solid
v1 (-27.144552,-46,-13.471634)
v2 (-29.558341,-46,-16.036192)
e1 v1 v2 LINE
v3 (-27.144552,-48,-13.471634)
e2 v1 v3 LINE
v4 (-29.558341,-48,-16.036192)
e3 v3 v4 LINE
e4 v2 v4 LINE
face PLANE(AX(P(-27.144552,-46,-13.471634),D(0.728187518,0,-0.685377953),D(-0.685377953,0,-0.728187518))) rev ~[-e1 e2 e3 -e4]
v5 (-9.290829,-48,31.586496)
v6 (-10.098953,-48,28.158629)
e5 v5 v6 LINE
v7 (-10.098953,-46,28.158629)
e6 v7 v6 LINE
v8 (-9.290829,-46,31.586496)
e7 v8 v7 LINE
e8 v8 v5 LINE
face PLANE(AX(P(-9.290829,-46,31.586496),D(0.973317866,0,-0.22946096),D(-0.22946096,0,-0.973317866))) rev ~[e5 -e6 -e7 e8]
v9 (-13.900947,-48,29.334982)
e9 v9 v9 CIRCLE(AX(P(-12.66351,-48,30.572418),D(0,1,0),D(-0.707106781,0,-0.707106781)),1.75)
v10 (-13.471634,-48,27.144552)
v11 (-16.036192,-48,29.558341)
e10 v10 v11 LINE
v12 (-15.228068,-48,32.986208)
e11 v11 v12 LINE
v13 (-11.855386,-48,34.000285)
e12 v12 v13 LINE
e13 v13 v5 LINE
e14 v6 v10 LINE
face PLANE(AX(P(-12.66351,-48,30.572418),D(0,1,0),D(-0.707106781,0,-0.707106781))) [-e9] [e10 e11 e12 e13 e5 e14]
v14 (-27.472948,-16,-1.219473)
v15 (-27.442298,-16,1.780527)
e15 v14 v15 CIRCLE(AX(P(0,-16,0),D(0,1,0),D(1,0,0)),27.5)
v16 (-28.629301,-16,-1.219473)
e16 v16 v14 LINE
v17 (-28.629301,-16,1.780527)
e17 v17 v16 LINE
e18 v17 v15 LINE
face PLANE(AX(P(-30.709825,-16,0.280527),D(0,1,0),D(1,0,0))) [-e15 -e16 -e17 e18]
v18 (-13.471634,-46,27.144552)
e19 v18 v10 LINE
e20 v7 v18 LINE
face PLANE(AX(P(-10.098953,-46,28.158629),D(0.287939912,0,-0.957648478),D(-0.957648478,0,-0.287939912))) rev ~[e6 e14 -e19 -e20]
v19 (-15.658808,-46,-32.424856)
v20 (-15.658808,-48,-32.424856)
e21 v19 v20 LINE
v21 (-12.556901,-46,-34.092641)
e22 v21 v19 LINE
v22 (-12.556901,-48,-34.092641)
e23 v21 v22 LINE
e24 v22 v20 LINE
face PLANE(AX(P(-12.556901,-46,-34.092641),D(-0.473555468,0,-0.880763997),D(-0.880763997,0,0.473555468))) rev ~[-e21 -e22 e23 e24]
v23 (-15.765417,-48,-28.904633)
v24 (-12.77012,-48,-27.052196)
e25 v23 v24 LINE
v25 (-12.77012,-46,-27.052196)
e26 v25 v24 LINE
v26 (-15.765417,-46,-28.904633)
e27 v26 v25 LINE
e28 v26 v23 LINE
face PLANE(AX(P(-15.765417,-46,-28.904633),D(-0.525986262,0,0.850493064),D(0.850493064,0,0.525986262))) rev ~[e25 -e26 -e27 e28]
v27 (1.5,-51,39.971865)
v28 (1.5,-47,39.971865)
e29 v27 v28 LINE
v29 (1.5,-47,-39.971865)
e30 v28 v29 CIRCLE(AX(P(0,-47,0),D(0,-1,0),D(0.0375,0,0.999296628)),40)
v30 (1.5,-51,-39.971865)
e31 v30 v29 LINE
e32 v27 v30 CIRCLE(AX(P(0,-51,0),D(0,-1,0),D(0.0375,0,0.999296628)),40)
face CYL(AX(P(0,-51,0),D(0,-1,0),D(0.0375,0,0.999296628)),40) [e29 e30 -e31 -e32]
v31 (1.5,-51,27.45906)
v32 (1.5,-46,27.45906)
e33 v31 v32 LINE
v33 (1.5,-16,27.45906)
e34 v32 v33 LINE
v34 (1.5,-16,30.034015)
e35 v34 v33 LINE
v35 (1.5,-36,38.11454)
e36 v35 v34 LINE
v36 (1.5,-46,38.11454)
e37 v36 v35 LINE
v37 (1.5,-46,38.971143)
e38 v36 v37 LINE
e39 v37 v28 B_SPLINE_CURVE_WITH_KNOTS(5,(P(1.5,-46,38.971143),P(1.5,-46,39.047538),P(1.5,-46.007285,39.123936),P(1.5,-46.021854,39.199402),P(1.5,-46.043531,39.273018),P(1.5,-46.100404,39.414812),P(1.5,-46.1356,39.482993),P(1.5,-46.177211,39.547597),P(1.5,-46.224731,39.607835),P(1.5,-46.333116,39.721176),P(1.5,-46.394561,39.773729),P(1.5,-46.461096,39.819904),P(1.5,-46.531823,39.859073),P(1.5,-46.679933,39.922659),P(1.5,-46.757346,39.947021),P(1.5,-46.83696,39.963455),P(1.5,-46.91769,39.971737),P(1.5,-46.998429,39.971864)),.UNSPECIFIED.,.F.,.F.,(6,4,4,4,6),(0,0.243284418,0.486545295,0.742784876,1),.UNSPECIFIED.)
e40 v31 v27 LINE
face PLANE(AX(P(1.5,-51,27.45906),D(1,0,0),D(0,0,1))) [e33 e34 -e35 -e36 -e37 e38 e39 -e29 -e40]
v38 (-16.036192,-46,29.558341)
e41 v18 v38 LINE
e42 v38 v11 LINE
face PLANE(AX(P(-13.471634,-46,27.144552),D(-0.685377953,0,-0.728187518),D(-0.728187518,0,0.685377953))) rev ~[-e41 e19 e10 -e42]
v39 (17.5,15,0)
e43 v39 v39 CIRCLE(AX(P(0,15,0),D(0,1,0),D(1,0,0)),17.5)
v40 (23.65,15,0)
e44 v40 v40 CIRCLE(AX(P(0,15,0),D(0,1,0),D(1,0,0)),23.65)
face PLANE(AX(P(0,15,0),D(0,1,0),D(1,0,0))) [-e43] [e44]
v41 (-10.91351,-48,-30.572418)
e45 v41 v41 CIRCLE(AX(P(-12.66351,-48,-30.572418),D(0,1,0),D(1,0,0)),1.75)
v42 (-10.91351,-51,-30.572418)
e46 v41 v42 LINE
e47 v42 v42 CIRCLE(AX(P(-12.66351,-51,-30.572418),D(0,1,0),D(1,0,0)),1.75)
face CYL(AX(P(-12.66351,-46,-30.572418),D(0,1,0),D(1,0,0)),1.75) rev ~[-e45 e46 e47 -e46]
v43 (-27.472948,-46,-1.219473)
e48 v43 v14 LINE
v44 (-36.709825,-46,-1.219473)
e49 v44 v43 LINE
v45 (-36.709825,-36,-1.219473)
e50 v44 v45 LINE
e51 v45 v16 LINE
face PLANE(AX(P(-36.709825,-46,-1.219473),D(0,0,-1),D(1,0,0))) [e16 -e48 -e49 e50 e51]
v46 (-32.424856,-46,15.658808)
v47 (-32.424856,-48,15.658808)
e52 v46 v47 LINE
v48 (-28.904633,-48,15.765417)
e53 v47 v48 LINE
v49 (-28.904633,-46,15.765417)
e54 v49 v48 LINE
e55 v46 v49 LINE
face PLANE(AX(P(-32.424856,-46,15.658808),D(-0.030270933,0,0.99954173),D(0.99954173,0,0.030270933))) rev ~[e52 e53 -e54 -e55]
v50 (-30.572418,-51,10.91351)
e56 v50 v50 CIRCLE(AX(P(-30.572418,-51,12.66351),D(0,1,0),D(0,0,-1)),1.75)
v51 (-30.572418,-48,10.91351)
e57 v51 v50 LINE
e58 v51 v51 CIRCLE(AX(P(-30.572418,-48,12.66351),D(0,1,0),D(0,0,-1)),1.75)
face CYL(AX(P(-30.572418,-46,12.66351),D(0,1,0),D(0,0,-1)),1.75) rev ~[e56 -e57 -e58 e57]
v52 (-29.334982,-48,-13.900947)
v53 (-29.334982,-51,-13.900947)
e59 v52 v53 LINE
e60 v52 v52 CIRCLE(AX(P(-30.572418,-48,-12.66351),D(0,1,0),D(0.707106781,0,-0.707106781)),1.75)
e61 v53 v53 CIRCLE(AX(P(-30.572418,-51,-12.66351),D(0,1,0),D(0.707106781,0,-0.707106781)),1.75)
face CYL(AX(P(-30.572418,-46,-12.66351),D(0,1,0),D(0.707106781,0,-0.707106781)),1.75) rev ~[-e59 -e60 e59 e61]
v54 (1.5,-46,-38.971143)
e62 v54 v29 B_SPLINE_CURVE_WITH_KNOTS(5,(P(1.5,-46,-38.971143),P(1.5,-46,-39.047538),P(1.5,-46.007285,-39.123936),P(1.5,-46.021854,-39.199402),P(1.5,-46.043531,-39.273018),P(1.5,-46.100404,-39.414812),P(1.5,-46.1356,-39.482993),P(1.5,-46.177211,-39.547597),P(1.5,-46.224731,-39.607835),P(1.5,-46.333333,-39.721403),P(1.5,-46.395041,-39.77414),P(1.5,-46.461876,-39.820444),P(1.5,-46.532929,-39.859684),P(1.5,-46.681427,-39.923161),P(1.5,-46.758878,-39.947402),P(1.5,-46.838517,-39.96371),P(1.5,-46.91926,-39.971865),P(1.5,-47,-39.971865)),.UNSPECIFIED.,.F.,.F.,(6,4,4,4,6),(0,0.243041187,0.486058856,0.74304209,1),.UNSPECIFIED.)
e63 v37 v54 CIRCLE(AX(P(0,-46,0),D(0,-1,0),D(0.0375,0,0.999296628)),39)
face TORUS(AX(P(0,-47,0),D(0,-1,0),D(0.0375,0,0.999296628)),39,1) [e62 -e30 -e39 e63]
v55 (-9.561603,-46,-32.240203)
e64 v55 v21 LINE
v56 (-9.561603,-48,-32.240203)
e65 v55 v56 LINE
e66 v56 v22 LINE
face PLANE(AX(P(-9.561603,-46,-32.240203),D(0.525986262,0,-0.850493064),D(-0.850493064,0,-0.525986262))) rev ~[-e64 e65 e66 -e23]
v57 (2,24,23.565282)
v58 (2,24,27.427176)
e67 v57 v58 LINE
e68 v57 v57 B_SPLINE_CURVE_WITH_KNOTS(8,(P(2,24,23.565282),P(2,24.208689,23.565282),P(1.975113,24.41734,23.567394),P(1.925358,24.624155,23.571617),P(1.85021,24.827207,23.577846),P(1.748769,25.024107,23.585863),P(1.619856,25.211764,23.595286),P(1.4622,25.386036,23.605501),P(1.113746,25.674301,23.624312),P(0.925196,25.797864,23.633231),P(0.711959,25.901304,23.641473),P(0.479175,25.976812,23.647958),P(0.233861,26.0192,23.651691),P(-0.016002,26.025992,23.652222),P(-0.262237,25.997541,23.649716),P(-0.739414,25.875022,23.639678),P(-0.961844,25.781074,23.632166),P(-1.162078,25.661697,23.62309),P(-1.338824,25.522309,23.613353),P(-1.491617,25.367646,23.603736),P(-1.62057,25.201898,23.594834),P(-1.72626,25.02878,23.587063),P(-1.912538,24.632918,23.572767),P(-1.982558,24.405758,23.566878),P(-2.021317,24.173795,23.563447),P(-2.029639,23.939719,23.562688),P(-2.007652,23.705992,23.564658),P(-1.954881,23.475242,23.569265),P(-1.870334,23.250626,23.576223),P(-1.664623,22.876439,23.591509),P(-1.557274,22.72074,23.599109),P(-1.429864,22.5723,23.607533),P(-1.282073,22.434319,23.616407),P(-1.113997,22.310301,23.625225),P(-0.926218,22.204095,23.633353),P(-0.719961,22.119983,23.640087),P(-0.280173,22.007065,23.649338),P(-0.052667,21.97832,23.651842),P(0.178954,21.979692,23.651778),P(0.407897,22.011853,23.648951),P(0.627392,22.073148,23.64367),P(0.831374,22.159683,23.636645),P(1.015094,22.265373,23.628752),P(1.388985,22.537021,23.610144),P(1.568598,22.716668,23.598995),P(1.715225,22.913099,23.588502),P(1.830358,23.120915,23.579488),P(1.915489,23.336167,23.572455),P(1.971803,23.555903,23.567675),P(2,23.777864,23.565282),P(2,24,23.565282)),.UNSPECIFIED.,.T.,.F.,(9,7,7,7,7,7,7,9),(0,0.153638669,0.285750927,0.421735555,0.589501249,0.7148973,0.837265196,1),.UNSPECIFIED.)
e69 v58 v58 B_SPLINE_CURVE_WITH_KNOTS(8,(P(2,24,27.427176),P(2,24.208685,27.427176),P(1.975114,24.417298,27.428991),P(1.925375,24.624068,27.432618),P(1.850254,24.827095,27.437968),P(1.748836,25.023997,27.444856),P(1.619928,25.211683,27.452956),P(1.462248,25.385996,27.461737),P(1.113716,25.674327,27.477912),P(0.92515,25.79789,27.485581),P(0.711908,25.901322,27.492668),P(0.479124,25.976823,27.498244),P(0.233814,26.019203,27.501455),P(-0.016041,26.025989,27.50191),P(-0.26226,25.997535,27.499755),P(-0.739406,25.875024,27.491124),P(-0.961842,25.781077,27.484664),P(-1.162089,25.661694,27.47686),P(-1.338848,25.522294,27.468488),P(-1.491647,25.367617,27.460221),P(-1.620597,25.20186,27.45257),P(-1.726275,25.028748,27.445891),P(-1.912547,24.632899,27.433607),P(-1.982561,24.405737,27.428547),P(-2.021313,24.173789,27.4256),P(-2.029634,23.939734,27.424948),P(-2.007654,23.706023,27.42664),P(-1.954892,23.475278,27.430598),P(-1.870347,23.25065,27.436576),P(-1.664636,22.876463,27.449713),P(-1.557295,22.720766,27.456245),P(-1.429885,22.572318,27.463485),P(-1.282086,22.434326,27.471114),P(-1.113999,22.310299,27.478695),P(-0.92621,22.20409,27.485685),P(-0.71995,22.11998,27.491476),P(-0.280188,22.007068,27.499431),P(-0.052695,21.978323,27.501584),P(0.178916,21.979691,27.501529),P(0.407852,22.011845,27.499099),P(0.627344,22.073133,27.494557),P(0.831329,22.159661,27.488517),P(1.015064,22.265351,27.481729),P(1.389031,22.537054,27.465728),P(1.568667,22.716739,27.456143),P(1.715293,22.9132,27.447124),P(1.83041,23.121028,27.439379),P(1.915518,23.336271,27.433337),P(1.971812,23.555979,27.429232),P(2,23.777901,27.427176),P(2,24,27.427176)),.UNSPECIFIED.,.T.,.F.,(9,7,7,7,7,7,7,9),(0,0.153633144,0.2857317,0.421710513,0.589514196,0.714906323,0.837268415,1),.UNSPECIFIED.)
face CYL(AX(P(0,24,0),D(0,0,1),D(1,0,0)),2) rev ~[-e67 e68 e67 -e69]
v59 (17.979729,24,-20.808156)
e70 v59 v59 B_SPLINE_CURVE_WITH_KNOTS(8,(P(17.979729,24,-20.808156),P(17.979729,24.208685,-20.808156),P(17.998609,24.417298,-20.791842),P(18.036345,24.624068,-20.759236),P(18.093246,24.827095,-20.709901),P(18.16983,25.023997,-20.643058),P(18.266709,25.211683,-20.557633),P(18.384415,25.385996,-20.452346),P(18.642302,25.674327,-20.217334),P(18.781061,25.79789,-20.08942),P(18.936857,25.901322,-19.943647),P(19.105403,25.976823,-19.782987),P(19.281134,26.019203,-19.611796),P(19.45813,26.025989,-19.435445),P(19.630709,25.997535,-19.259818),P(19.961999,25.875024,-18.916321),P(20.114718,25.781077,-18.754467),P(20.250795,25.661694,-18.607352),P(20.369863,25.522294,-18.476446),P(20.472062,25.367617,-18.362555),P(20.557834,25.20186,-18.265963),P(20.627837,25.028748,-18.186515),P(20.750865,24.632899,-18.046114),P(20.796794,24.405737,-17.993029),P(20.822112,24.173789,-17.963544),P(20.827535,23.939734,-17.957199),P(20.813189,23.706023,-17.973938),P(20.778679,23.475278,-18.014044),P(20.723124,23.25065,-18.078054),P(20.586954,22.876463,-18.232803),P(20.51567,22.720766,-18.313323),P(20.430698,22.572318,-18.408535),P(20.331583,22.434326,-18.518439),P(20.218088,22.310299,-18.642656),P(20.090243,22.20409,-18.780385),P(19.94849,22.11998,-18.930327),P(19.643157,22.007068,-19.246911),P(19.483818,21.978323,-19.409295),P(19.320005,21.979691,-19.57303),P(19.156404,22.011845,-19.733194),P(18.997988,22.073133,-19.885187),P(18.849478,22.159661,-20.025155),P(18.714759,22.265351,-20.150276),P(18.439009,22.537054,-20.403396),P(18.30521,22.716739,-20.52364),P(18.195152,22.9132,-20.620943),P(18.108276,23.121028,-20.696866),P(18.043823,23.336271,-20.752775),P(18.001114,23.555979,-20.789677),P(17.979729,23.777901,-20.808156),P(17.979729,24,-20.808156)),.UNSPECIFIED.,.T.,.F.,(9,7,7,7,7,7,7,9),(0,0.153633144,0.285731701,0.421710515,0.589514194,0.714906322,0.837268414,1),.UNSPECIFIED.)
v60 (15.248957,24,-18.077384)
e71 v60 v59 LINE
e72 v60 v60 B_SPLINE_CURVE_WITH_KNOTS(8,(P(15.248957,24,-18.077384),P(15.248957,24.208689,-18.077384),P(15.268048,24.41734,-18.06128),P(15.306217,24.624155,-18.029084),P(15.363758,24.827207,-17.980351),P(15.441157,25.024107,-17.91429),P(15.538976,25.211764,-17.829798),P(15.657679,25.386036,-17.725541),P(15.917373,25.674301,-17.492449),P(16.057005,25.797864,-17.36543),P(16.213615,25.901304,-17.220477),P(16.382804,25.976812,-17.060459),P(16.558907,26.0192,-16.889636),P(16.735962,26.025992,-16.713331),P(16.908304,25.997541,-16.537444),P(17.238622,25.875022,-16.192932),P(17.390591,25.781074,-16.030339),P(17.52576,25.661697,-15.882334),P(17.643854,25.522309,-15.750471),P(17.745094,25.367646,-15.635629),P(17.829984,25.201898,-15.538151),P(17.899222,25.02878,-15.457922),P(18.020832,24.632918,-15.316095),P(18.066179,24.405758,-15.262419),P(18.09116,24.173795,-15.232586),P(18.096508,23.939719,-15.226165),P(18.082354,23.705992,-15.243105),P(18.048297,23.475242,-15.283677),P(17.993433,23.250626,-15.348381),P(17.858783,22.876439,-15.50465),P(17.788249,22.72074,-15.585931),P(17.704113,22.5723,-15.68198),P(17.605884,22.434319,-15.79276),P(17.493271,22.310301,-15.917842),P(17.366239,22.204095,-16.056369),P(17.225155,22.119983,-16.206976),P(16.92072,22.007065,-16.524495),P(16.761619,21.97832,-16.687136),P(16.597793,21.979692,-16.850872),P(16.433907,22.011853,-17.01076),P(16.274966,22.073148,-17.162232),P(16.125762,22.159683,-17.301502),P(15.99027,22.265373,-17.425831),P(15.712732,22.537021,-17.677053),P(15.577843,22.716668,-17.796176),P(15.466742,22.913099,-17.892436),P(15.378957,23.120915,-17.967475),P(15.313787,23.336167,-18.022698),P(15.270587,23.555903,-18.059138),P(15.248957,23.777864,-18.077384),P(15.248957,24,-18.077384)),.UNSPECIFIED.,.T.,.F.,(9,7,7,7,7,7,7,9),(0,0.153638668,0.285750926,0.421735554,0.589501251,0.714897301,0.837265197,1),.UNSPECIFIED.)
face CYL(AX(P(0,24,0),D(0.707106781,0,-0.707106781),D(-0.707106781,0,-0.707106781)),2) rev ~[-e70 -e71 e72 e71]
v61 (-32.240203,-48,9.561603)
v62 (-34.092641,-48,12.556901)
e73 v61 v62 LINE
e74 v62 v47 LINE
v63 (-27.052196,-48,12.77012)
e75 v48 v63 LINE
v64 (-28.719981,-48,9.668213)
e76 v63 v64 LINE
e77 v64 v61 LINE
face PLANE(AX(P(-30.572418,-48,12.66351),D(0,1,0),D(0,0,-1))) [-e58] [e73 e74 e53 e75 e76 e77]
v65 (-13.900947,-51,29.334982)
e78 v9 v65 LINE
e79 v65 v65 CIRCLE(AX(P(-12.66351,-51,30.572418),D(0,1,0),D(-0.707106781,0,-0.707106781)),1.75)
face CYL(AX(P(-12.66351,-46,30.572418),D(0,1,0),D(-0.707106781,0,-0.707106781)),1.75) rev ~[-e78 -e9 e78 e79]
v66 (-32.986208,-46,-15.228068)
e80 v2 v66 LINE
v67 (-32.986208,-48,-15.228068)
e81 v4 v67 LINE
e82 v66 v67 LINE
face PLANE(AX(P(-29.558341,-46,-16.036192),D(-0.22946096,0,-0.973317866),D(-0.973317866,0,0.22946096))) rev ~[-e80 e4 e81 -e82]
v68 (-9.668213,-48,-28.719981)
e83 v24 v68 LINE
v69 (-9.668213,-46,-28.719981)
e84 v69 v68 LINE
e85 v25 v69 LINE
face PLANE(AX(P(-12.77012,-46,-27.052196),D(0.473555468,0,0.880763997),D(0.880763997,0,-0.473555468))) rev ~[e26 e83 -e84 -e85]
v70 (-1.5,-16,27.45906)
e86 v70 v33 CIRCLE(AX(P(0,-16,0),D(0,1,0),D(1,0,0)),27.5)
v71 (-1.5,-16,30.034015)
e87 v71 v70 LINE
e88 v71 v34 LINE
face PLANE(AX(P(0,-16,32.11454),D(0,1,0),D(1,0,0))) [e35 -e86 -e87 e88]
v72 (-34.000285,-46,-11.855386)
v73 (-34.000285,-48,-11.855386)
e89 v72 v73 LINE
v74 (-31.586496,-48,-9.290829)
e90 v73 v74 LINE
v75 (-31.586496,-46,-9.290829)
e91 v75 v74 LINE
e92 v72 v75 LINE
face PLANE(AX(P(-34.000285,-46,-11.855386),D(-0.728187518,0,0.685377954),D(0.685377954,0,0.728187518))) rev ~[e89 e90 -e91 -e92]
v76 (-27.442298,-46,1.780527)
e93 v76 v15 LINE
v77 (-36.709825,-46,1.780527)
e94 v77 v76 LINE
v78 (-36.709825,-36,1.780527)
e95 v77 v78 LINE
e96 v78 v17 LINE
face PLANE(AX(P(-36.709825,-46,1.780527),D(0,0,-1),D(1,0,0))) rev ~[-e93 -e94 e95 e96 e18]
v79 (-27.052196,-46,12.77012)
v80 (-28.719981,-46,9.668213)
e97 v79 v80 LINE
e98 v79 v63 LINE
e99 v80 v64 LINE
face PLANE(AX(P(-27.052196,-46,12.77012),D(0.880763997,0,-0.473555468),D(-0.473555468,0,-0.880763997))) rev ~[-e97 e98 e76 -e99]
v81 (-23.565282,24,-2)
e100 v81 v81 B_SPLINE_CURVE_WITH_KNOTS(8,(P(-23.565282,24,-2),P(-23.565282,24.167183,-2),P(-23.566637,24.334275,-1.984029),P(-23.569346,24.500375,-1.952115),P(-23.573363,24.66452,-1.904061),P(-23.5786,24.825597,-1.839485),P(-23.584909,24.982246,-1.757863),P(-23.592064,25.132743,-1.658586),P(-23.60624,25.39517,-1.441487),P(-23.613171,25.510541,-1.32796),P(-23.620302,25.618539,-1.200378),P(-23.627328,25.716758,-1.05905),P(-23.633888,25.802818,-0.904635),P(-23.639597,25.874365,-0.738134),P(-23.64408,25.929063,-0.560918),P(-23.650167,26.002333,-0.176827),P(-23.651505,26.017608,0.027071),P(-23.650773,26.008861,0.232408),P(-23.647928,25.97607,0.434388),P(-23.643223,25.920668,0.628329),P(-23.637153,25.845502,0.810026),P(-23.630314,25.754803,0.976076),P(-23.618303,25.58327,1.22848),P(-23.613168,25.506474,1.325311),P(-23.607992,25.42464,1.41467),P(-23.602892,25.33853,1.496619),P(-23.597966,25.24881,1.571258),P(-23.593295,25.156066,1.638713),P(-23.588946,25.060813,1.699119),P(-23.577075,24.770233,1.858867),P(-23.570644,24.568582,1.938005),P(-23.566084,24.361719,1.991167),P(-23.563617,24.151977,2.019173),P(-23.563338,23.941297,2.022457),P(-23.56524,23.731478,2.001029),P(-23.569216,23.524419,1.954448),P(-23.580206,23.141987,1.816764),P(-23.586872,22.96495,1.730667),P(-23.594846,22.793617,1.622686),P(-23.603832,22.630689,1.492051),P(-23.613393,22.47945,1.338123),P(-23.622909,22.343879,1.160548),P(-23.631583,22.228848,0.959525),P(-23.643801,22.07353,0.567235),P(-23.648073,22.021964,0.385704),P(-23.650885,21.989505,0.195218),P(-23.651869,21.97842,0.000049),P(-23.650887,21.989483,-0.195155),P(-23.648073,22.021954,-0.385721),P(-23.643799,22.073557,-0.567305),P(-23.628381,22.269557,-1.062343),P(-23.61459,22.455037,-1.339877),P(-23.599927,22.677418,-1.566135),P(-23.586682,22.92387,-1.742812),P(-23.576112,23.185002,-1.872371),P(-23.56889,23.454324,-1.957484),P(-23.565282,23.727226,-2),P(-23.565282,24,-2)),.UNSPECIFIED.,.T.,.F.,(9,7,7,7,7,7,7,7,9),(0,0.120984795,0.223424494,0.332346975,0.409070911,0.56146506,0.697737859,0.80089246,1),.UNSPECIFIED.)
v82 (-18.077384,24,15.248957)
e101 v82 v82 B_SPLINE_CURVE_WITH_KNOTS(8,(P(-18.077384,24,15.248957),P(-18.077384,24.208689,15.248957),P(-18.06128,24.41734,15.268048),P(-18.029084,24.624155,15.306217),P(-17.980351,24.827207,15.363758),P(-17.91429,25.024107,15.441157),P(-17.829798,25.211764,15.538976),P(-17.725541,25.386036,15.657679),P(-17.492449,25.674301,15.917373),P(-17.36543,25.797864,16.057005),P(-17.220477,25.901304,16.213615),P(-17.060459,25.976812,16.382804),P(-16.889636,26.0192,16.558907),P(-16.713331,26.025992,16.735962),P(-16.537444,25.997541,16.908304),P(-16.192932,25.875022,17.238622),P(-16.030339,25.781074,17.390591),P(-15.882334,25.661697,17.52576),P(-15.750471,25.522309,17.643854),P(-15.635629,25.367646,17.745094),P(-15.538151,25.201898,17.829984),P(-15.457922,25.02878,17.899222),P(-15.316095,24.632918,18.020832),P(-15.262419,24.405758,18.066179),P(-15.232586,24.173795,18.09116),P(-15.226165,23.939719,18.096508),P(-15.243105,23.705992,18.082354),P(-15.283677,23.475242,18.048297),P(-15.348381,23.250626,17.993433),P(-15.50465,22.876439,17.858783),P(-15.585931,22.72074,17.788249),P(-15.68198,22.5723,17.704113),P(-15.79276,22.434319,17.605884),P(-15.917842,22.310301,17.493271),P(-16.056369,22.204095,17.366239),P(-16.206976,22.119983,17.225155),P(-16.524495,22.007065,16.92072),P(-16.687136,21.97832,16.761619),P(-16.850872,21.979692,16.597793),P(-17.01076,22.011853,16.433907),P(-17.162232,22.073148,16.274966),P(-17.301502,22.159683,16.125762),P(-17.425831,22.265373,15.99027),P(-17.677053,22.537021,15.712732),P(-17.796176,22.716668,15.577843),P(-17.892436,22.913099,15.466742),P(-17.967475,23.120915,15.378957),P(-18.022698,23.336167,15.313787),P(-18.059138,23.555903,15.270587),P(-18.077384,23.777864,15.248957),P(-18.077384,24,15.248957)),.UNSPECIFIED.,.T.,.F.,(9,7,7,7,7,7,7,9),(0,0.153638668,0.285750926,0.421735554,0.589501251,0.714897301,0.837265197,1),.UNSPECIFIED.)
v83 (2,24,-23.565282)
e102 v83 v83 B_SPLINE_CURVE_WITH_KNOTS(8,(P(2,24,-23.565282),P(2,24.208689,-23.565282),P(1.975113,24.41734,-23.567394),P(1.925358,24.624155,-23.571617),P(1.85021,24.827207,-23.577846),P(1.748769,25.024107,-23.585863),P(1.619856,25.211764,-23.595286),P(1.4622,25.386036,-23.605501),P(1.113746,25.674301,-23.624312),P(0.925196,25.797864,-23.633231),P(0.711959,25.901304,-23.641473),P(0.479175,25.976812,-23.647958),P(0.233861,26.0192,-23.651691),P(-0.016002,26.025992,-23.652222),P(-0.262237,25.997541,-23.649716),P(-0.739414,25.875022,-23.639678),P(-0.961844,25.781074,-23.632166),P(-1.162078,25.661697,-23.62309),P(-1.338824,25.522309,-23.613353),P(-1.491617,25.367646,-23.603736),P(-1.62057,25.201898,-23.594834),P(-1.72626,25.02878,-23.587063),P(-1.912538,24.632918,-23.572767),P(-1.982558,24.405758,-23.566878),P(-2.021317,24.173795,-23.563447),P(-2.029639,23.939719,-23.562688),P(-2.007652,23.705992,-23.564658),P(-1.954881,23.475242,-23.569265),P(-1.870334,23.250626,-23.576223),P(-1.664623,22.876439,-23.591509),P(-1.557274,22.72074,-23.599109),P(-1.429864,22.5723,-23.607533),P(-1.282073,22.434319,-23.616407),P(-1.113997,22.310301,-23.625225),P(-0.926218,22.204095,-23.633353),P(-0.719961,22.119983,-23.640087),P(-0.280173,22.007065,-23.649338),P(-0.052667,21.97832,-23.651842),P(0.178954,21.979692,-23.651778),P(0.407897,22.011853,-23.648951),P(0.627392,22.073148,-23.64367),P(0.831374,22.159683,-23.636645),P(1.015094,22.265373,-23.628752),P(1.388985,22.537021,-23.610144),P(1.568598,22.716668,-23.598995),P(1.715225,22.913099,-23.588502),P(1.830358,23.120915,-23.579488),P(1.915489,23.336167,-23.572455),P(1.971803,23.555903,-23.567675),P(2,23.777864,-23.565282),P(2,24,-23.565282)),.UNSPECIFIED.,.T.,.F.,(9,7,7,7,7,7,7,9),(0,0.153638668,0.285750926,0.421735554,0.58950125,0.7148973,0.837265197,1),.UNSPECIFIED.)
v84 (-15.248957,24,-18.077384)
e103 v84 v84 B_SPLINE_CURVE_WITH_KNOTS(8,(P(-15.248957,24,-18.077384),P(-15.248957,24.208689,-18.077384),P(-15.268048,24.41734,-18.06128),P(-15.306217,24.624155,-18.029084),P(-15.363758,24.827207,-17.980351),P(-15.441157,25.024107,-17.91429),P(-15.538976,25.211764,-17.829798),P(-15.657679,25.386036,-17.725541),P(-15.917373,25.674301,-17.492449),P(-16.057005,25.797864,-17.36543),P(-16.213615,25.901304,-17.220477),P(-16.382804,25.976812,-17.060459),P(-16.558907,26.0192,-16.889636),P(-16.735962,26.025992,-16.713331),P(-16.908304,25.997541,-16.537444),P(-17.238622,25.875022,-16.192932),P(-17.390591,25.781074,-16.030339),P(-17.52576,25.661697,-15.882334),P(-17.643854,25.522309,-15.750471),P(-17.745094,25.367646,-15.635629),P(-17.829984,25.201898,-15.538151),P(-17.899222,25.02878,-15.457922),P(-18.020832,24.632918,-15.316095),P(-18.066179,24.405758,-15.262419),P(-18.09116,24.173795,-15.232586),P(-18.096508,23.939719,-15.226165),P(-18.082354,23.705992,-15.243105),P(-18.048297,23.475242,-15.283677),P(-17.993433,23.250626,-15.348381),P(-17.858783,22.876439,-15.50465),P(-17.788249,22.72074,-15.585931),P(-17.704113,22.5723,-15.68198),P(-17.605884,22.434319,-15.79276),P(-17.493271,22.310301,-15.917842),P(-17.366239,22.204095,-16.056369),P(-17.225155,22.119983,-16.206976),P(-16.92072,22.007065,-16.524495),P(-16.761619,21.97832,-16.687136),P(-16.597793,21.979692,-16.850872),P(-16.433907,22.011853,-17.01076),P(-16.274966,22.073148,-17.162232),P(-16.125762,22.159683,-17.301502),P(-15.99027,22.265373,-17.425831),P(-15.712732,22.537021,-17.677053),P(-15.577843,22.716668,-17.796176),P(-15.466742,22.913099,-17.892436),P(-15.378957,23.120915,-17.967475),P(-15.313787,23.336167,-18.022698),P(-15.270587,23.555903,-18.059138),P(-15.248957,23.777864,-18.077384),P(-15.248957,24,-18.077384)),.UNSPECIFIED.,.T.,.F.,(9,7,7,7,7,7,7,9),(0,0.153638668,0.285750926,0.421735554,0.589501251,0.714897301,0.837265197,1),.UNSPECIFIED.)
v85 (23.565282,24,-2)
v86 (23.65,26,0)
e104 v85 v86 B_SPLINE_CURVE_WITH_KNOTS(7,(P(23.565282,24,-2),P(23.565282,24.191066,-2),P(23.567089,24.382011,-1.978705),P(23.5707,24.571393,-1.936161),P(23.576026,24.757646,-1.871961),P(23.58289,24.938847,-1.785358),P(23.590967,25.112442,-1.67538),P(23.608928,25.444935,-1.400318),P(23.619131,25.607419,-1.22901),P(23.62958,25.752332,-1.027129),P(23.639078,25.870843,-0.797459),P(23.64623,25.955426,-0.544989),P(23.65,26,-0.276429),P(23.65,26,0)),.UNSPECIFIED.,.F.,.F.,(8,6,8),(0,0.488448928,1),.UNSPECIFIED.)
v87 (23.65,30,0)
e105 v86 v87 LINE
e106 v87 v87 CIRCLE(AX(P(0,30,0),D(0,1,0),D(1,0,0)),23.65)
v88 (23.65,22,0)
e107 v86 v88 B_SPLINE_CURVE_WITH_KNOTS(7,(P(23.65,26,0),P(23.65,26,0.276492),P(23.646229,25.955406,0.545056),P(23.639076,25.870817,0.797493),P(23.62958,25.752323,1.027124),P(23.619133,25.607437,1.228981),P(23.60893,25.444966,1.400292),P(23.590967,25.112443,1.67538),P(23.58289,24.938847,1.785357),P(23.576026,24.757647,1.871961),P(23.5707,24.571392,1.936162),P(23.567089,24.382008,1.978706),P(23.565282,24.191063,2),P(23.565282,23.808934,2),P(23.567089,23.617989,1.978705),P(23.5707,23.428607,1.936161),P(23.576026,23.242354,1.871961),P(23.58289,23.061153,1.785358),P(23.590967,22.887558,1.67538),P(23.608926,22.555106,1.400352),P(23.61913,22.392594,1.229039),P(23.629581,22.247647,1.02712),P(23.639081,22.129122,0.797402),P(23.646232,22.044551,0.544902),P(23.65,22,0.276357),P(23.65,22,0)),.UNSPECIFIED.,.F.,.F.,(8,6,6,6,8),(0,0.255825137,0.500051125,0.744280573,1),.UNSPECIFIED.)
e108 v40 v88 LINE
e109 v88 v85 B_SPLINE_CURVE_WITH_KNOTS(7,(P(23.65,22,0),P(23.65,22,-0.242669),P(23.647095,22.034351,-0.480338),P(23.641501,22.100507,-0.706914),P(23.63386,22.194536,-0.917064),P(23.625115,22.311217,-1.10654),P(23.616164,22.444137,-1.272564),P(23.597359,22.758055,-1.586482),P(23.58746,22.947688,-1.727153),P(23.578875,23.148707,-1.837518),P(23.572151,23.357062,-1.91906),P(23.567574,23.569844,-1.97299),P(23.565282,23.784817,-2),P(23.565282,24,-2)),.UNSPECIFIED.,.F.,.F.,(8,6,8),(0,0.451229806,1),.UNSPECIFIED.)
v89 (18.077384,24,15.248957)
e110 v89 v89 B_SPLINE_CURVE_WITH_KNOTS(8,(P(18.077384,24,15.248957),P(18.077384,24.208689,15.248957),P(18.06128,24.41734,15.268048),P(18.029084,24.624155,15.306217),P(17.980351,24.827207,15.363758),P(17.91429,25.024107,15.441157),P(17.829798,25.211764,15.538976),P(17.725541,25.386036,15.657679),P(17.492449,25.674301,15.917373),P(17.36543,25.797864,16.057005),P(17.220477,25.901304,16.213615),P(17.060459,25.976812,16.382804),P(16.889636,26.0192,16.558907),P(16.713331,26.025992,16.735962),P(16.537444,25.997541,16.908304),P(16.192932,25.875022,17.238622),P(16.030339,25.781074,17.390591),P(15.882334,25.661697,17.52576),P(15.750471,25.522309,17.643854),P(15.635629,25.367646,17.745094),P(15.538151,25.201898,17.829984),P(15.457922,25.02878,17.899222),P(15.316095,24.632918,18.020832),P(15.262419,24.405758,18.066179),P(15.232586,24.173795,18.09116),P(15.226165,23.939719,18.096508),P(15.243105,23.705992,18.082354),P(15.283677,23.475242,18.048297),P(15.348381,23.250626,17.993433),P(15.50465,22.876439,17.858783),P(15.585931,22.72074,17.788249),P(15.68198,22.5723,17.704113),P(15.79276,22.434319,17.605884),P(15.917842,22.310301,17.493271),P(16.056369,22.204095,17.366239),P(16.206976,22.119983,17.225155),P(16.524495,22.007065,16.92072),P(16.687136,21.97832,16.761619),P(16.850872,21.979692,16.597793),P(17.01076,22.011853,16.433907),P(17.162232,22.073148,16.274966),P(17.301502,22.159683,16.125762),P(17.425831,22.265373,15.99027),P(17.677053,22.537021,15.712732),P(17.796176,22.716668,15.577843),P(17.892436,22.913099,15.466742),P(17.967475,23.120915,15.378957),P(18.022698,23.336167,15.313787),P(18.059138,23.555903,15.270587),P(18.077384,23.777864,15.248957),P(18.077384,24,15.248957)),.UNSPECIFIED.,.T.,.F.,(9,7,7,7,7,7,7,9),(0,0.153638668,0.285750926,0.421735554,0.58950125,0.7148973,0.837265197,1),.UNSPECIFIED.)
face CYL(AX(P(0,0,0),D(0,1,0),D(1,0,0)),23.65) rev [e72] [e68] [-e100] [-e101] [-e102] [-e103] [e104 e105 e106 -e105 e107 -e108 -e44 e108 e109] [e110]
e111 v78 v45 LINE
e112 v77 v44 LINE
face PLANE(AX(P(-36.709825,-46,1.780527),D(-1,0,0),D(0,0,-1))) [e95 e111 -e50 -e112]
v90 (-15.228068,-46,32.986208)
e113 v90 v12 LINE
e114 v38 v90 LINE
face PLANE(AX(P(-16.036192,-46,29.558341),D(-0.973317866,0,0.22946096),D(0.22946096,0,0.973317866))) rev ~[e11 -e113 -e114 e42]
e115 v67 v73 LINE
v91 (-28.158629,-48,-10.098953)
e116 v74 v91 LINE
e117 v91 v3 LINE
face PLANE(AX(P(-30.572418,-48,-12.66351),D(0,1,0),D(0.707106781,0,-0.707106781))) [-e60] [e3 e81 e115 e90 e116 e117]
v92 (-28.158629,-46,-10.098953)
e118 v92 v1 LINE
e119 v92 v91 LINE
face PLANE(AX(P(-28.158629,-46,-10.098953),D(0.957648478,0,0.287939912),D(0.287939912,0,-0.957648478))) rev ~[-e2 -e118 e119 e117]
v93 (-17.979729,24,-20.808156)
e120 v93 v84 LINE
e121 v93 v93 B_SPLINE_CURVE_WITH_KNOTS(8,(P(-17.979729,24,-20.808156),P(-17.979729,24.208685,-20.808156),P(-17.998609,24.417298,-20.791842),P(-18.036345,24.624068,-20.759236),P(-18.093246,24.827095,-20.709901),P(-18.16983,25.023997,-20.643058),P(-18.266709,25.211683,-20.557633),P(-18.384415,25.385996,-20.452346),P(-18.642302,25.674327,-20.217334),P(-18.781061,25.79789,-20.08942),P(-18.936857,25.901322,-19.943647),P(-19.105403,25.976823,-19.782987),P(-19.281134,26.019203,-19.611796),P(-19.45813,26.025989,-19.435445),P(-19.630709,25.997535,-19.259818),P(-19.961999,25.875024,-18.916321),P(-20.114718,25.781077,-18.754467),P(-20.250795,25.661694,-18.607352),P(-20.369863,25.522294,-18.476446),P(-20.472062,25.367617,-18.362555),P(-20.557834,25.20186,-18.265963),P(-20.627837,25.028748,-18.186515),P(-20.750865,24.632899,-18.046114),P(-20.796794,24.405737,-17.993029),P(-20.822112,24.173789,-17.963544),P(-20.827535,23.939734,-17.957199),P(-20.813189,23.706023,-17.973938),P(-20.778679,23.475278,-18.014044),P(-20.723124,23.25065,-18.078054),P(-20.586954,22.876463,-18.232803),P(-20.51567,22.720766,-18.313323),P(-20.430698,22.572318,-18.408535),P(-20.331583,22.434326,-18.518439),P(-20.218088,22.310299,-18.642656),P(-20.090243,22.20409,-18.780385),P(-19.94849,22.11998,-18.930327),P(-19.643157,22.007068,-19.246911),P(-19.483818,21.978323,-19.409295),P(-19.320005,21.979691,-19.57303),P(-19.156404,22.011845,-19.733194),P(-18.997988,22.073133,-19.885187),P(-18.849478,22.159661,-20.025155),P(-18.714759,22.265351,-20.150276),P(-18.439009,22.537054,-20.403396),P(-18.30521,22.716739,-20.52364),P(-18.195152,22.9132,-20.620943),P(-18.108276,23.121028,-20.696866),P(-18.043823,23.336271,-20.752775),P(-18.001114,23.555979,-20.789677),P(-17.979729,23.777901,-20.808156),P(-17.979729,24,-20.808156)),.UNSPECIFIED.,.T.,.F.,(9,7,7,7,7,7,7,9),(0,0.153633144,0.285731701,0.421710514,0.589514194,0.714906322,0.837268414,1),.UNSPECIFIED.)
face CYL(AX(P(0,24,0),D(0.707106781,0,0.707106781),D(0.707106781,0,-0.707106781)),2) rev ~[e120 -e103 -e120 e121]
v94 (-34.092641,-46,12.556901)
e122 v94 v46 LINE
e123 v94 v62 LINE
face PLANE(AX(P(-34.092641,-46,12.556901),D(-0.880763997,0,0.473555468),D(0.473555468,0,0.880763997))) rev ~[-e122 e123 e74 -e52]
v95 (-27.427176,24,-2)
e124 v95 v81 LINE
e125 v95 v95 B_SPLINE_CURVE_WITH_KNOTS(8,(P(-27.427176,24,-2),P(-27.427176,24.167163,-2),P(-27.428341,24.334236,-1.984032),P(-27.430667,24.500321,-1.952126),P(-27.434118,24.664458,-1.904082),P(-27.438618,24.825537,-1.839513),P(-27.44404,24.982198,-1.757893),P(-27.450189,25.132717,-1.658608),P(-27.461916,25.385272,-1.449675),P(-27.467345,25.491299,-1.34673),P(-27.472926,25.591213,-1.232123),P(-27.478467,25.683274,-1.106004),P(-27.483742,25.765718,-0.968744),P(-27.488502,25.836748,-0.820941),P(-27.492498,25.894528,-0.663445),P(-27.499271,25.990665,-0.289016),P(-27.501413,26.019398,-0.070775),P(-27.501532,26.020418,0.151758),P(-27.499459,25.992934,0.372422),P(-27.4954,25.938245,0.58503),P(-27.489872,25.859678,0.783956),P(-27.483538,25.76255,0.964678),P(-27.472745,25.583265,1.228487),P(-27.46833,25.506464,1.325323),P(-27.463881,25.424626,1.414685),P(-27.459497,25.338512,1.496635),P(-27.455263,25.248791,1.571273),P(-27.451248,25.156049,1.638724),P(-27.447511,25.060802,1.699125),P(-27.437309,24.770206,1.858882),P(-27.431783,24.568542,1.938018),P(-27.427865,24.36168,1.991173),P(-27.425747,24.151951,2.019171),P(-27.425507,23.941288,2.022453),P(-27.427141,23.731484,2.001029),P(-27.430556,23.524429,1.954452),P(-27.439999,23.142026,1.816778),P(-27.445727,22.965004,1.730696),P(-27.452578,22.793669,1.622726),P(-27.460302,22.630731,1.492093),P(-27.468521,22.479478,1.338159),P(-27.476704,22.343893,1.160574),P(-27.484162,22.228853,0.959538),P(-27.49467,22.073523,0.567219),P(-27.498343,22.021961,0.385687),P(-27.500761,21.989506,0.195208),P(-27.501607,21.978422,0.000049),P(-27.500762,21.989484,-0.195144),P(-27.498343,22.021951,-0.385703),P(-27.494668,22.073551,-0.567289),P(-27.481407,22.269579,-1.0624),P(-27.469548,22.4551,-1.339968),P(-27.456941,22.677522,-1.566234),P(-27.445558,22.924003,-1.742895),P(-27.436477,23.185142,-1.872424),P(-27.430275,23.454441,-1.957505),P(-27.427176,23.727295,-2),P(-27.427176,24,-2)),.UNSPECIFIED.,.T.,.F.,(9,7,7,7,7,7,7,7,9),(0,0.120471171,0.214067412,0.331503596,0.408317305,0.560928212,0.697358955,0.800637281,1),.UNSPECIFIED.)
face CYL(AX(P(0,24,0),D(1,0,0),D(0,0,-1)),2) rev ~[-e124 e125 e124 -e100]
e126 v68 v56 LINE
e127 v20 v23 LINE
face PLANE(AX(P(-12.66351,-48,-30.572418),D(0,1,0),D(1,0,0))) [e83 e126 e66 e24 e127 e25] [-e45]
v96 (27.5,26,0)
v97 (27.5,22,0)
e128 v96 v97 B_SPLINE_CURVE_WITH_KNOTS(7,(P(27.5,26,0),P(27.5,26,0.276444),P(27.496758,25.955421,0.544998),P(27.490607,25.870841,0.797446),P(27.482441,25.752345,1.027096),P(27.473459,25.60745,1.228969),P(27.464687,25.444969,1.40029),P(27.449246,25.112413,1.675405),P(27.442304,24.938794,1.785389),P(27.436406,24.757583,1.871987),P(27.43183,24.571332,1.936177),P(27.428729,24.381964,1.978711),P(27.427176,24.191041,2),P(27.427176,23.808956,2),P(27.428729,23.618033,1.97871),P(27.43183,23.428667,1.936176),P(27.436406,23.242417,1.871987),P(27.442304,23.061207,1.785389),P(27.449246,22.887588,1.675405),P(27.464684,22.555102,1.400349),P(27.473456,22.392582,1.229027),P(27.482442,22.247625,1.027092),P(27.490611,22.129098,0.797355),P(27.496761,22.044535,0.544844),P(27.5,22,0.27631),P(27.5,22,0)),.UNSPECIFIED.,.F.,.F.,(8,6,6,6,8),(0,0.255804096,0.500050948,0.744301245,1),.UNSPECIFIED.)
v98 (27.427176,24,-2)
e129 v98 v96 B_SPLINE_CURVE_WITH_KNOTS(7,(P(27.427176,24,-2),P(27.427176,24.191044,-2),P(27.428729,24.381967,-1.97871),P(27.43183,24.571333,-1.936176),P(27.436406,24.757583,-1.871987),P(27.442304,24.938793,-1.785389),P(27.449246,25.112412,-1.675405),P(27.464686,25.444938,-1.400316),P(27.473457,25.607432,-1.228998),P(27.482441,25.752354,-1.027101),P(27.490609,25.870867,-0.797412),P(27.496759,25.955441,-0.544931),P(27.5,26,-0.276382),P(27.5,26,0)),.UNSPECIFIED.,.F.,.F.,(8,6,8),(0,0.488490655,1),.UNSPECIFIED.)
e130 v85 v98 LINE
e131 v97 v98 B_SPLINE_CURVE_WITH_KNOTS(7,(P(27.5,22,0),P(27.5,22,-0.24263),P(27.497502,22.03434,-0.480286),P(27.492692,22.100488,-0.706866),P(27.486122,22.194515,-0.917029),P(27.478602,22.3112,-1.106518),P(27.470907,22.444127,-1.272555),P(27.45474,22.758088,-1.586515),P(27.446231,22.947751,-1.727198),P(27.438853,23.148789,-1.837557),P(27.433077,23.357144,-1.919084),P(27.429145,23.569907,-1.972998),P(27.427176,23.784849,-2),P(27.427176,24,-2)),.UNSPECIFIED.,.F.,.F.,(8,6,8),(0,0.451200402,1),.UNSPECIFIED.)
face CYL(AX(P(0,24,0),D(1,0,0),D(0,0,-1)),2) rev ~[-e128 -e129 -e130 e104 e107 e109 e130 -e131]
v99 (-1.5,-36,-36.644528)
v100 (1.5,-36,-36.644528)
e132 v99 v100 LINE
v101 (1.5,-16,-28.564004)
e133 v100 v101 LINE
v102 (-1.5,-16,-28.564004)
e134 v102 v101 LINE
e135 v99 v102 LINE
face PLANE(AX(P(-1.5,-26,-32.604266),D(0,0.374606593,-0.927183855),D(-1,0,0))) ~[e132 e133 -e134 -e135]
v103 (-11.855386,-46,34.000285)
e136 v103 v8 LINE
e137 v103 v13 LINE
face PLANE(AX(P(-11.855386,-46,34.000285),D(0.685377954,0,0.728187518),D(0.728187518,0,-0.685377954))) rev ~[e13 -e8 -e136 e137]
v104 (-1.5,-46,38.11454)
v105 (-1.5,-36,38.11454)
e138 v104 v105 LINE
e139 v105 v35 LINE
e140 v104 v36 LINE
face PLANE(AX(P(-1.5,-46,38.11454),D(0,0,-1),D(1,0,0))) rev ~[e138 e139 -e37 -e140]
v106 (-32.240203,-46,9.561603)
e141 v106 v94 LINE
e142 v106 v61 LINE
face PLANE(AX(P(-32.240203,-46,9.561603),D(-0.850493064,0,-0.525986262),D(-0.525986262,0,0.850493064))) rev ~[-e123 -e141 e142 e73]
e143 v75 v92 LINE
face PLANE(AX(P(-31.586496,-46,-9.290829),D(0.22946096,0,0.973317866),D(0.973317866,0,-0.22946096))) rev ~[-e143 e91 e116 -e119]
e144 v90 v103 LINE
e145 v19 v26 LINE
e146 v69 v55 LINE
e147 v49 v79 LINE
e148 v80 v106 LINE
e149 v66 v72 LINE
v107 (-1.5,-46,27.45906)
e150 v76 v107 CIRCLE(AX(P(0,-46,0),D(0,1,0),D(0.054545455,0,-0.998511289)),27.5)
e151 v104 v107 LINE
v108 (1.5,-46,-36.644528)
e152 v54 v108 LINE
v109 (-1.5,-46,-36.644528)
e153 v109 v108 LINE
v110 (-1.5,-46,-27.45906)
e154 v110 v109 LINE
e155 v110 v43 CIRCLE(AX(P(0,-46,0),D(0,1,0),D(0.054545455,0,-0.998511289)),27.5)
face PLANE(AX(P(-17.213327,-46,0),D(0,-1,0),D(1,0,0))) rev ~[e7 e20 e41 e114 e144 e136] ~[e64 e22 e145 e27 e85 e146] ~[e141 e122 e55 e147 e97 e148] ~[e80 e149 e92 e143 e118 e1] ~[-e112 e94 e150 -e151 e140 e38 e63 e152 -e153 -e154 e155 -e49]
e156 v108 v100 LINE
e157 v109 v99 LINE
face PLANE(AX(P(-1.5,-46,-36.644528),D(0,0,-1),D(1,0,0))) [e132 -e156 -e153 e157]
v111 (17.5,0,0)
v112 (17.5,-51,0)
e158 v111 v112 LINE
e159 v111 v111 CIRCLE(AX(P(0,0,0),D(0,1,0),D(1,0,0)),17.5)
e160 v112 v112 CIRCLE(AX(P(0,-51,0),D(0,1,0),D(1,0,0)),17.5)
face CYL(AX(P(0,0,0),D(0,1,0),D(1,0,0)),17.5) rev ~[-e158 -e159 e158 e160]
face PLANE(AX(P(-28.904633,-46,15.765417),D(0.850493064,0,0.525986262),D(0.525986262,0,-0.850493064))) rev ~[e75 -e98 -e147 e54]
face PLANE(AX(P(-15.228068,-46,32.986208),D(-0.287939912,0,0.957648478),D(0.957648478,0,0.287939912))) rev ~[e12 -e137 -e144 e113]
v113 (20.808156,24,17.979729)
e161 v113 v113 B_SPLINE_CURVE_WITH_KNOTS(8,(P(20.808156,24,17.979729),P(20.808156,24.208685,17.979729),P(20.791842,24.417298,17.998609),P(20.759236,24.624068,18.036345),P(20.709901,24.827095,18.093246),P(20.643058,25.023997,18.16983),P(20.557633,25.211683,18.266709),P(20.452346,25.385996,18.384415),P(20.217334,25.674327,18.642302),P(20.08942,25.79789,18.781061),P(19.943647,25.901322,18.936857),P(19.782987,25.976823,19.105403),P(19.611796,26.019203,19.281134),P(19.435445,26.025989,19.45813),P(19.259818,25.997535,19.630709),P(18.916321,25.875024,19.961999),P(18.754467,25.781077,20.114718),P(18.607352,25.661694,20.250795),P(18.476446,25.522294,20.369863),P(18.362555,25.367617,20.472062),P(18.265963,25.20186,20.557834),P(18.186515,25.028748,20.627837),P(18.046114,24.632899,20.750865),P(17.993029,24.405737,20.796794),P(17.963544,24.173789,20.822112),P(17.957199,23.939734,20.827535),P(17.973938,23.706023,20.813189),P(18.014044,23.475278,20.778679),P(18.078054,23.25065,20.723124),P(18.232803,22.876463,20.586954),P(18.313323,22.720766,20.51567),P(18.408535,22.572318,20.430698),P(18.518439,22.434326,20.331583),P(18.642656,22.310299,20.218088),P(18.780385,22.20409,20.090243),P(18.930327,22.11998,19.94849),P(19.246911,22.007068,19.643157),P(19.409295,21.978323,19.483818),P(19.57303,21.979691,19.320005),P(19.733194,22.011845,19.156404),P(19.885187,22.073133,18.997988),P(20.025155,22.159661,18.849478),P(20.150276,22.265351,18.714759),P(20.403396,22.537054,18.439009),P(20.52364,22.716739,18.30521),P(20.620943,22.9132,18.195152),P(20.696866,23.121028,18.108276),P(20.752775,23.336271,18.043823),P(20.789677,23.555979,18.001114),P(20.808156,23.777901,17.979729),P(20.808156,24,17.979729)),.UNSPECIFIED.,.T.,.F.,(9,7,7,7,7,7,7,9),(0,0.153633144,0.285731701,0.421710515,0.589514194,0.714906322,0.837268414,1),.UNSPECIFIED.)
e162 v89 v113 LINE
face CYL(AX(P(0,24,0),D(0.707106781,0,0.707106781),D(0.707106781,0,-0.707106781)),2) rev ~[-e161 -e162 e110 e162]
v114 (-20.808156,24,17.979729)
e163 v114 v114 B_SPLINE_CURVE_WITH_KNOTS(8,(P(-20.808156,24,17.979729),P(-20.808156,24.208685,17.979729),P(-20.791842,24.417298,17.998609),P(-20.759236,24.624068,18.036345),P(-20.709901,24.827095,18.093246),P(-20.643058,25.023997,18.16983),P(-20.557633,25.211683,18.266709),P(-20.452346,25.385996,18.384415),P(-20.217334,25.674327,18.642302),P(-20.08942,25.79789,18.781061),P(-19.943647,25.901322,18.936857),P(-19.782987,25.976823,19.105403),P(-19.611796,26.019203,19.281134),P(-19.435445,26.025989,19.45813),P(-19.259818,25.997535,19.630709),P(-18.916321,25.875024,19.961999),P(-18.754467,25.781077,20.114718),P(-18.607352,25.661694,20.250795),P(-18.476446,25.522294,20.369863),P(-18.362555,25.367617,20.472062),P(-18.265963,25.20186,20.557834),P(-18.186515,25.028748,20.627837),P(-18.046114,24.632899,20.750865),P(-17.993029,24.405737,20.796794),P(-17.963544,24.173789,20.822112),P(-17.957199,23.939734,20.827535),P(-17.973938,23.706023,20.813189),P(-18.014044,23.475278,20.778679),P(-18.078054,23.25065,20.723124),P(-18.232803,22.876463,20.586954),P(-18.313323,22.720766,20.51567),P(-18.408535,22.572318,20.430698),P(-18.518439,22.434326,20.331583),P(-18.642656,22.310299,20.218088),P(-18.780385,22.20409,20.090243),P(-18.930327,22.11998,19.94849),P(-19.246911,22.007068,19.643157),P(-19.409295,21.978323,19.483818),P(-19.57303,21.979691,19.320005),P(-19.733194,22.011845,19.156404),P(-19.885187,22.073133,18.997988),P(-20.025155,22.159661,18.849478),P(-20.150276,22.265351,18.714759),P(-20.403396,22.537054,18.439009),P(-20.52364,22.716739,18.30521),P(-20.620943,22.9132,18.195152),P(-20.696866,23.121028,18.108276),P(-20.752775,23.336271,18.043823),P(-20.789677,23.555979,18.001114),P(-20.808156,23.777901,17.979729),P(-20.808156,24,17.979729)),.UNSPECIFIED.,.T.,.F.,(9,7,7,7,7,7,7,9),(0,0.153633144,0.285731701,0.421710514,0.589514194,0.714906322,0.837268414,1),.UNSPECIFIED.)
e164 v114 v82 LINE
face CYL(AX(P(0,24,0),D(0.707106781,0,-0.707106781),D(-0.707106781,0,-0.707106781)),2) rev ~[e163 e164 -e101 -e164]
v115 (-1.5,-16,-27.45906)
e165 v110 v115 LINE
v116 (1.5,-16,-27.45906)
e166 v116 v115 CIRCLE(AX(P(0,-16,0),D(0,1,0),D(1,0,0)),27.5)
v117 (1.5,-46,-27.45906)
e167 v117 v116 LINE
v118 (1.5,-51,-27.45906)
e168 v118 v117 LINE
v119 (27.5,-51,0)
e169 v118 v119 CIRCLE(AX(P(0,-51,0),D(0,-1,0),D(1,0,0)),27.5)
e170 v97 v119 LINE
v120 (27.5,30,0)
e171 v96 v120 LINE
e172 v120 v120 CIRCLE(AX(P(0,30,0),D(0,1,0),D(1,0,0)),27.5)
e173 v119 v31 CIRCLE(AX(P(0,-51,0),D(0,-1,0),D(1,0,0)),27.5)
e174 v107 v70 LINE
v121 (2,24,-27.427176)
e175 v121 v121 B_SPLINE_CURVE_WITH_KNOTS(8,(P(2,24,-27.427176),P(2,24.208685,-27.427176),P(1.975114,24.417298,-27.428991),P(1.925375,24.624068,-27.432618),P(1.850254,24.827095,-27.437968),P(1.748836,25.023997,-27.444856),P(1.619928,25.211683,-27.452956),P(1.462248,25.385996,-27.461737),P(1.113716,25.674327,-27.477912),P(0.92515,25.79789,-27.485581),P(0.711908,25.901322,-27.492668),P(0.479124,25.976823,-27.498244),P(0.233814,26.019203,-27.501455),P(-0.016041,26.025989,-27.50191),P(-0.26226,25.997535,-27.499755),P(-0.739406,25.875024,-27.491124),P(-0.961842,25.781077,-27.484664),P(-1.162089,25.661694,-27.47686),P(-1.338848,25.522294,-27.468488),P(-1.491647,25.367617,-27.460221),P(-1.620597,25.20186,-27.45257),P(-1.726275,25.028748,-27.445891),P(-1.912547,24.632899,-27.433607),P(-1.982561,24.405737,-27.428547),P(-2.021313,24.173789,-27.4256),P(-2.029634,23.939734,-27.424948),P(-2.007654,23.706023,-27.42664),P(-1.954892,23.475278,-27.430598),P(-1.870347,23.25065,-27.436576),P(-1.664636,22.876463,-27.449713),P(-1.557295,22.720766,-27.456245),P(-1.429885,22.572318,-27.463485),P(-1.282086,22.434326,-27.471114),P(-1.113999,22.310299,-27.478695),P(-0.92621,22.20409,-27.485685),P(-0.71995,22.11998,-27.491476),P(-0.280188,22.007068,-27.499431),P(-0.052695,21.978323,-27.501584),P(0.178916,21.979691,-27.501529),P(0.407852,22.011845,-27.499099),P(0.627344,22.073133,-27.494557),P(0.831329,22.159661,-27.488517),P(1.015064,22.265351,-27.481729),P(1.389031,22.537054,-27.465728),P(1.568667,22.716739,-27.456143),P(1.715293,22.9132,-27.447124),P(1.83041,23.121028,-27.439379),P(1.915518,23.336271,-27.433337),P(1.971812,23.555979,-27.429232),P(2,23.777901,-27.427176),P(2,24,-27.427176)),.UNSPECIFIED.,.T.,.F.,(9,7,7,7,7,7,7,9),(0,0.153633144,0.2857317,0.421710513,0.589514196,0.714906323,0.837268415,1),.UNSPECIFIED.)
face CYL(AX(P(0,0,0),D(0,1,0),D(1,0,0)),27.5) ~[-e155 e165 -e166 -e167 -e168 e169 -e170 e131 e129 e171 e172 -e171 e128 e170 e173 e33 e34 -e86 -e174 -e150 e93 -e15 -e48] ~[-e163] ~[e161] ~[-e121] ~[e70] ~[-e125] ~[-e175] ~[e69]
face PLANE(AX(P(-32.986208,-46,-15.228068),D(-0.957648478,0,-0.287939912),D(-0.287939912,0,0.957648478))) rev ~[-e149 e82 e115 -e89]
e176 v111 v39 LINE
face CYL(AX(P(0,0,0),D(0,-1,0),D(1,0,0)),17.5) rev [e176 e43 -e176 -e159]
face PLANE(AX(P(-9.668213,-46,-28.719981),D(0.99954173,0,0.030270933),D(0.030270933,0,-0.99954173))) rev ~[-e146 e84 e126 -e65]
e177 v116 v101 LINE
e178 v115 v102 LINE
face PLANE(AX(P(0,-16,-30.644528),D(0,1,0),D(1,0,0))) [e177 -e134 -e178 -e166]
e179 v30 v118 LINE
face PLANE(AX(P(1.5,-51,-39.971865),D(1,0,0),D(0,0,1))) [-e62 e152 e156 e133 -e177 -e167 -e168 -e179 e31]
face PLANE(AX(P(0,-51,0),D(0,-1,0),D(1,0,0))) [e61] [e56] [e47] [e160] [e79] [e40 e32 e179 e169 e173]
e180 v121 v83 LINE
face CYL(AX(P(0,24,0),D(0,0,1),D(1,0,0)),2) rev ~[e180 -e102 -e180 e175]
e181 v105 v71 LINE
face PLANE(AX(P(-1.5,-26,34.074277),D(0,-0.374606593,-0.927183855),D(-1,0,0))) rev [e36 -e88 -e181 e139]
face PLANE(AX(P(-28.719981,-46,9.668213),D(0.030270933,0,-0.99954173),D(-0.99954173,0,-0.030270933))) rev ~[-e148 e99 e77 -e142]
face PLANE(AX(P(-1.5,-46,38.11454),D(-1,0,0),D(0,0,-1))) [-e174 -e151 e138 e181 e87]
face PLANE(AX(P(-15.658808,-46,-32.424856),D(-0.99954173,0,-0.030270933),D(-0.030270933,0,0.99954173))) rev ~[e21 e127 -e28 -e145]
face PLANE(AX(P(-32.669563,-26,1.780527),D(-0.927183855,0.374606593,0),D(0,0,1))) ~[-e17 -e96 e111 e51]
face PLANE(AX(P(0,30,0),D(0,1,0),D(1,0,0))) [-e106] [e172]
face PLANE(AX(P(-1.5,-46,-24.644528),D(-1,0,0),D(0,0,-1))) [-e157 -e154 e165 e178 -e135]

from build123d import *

# Parameters (mm, degrees)
SKETCH1_R                = 27.5
SKETCH1_R_2              = 23.65
BOSS_EXTRUDE1_DEPTH      = 30
SKETCH2_R                = 2
CUT_EXTRUDE1_DEPTH       = 28.5
CIRPATTERN1_COUNT        = 4
CIRPATTERN1_ANGLE        = 135
SKETCH3_R                = 27.5
SKETCH3_R_2              = 23.65
BOSS_EXTRUDE2_DEPTH      = 51
BOSS_EXTRUDE3_DEPTH      = 5
SKETCH6_W                = 3
SKETCH6_H                = 12
SKETCH6_W_2              = 12
SKETCH6_H_2              = 3
BOSS_EXTRUDE4_DEPTH      = 30
CHAMFER1_SIZE            = 20
CHAMFER1_SIZE2           = 8.080524517
CHAMFER1_PART_2_SIZE     = 20
CHAMFER1_PART_2_SIZE2    = 8.080524517
CHAMFER1_PART_3_SIZE     = 20
CHAMFER1_PART_3_SIZE2    = 8.080524517
SKETCH7_R                = 1.75
CUT_EXTRUDE2_DEPTH       = 6.0000001
CUT_EXTRUDE3_DEPTH       = 2
CIRPATTERN2_COUNT        = 4
CIRPATTERN2_ANGLE        = 135
FILLET1_R                = 1
SKETCH9_R                = 26.233260483
SKETCH9_R_2              = 17.5
BOSS_EXTRUDE5_DEPTH      = 15
BOSS_EXTRUDE5_DEPTH_BACK = 51


with BuildPart() as part:
    # Sketch1 → Boss-Extrude1 (new body)
    with BuildSketch(Plane(origin=(0, 0, 0), x_dir=(1, 0, 0), z_dir=(0, 1, 0))):
        Circle(SKETCH1_R)
        Circle(SKETCH1_R_2, mode=Mode.SUBTRACT)
    extrude(amount=BOSS_EXTRUDE1_DEPTH)

    # Sketch2 → Cut-Extrude1 (cut, symmetric)
    with BuildSketch(Plane.XY):
        with Locations((0, 24)):
            Circle(SKETCH2_R)
    cut_extrude1 = extrude(amount=CUT_EXTRUDE1_DEPTH, both=True, mode=Mode.SUBTRACT)

    # CirPattern1: Cut-Extrude1 ×4 about axis
    cirpattern1_axis = Axis((0, 30, 0), (0, 1, 0))
    for i in range(1, CIRPATTERN1_COUNT):
        add(cut_extrude1.rotate(cirpattern1_axis, i * CIRPATTERN1_ANGLE / (CIRPATTERN1_COUNT - 1)), mode=Mode.SUBTRACT)

    # Sketch3 → Boss-Extrude2 (add)
    with BuildSketch(Plane.XZ):
        Circle(SKETCH3_R)
        Circle(SKETCH3_R_2, mode=Mode.SUBTRACT)
    extrude(amount=BOSS_EXTRUDE2_DEPTH)

    # Sketch4 → Boss-Extrude3 (add)
    with BuildSketch(Plane.XZ.offset(51)):
        with BuildLine():
            Line((1.5, 27.459060435), (1.5, 39.971865105))
            ThreePointArc((1.5, 39.971865105), (-40, 0), (1.5, -39.971865105))
            Line((1.5, -39.971865105), (1.5, -27.459060435))
            ThreePointArc((1.5, -27.459060435), (-27.5, 0), (1.5, 27.459060435))
        make_face()
    extrude(amount=-BOSS_EXTRUDE3_DEPTH)

    # Sketch6 → Boss-Extrude4 (add)
    with BuildSketch(Plane(origin=(0, -46, 0), x_dir=(1, 0, 0), z_dir=(0, 1, 0))):
        with Locations((0, 30.644528231)):
            Rectangle(SKETCH6_W, SKETCH6_H)
        with Locations((-30.709825096, -0.28052704)):
            Rectangle(SKETCH6_W_2, SKETCH6_H_2)
        with Locations((0, -32.114539573)):
            Rectangle(SKETCH6_W, SKETCH6_H)
    extrude(amount=BOSS_EXTRUDE4_DEPTH)

    # Chamfer1
    chamfer1_edges = [part.edges().sort_by_distance(p)[0] for p in [
        (0, -16, -36.644528231),
    ]]
    chamfer1_side = [part.faces().sort_by_distance(p)[0] for p in [
        (0, -31, -36.644528231),
    ]]
    chamfer(chamfer1_edges, length=CHAMFER1_SIZE, length2=CHAMFER1_SIZE2, reference=chamfer1_side[0])

    # Chamfer1 part 2
    chamfer1_part_2_edges = [part.edges().sort_by_distance(p)[0] for p in [
        (-36.709825096, -16, 0.28052704),
    ]]
    chamfer1_part_2_side = [part.faces().sort_by_distance(p)[0] for p in [
        (-36.709825096, -31, 0.28052704),
    ]]
    chamfer(chamfer1_part_2_edges, length=CHAMFER1_PART_2_SIZE, length2=CHAMFER1_PART_2_SIZE2, reference=chamfer1_part_2_side[0])

    # Chamfer1 part 3
    chamfer1_part_3_edges = [part.edges().sort_by_distance(p)[0] for p in [
        (0, -16, 38.114539573),
    ]]
    chamfer1_part_3_side = [part.faces().sort_by_distance(p)[0] for p in [
        (0, -31, 38.114539573),
    ]]
    chamfer(chamfer1_part_3_edges, length=CHAMFER1_PART_3_SIZE, length2=CHAMFER1_PART_3_SIZE2, reference=chamfer1_part_3_side[0])

    # Sketch7 → Cut-Extrude2 (cut, through all)
    with BuildSketch(Plane(origin=(0, -46, 0), x_dir=(1, 0, 0), z_dir=(0, 1, 0))):
        with Locations((-12.663510369, 30.572418481)):
            Circle(SKETCH7_R)
    cut_extrude2 = extrude(amount=-CUT_EXTRUDE2_DEPTH, mode=Mode.SUBTRACT)

    # Sketch8 → Cut-Extrude3 (cut)
    with BuildSketch(Plane(origin=(0, -46, 0), x_dir=(1, 0, 0), z_dir=(0, 1, 0))):
        Polygon((-9.561603451, 32.24020348), (-12.556901088, 34.092641172), (-15.658808006, 32.424856172), (-15.765417287, 28.904633481), (-12.770119651, 27.05219579), (-9.668212733, 28.719980789), align=None)
    cut_extrude3 = extrude(amount=-CUT_EXTRUDE3_DEPTH, mode=Mode.SUBTRACT)

    # CirPattern2: Cut-Extrude2, Cut-Extrude3 ×4 about axis
    cirpattern2_axis = Axis((0, 0, 0), (0, 1, 0))
    for i in range(1, CIRPATTERN2_COUNT):
        add(cut_extrude2.rotate(cirpattern2_axis, i * CIRPATTERN2_ANGLE / (CIRPATTERN2_COUNT - 1)), mode=Mode.SUBTRACT)
        add(cut_extrude3.rotate(cirpattern2_axis, i * CIRPATTERN2_ANGLE / (CIRPATTERN2_COUNT - 1)), mode=Mode.SUBTRACT)

    # Fillet1
    fillet1_edges = [part.edges().sort_by_distance(p)[0] for p in [
        (-40, -46, 0),
    ]]
    fillet(fillet1_edges, radius=FILLET1_R)

    # Sketch9 → Boss-Extrude5 (add, two sides)
    with BuildSketch(Plane(origin=(0, 0, 0), x_dir=(1, 0, 0), z_dir=(0, 1, 0))) as boss_extrude5_sk:
        Circle(SKETCH9_R)
        Circle(SKETCH9_R_2, mode=Mode.SUBTRACT)
    extrude(amount=BOSS_EXTRUDE5_DEPTH)
    extrude(boss_extrude5_sk.sketch, amount=-BOSS_EXTRUDE5_DEPTH_BACK)


solid = part.part
